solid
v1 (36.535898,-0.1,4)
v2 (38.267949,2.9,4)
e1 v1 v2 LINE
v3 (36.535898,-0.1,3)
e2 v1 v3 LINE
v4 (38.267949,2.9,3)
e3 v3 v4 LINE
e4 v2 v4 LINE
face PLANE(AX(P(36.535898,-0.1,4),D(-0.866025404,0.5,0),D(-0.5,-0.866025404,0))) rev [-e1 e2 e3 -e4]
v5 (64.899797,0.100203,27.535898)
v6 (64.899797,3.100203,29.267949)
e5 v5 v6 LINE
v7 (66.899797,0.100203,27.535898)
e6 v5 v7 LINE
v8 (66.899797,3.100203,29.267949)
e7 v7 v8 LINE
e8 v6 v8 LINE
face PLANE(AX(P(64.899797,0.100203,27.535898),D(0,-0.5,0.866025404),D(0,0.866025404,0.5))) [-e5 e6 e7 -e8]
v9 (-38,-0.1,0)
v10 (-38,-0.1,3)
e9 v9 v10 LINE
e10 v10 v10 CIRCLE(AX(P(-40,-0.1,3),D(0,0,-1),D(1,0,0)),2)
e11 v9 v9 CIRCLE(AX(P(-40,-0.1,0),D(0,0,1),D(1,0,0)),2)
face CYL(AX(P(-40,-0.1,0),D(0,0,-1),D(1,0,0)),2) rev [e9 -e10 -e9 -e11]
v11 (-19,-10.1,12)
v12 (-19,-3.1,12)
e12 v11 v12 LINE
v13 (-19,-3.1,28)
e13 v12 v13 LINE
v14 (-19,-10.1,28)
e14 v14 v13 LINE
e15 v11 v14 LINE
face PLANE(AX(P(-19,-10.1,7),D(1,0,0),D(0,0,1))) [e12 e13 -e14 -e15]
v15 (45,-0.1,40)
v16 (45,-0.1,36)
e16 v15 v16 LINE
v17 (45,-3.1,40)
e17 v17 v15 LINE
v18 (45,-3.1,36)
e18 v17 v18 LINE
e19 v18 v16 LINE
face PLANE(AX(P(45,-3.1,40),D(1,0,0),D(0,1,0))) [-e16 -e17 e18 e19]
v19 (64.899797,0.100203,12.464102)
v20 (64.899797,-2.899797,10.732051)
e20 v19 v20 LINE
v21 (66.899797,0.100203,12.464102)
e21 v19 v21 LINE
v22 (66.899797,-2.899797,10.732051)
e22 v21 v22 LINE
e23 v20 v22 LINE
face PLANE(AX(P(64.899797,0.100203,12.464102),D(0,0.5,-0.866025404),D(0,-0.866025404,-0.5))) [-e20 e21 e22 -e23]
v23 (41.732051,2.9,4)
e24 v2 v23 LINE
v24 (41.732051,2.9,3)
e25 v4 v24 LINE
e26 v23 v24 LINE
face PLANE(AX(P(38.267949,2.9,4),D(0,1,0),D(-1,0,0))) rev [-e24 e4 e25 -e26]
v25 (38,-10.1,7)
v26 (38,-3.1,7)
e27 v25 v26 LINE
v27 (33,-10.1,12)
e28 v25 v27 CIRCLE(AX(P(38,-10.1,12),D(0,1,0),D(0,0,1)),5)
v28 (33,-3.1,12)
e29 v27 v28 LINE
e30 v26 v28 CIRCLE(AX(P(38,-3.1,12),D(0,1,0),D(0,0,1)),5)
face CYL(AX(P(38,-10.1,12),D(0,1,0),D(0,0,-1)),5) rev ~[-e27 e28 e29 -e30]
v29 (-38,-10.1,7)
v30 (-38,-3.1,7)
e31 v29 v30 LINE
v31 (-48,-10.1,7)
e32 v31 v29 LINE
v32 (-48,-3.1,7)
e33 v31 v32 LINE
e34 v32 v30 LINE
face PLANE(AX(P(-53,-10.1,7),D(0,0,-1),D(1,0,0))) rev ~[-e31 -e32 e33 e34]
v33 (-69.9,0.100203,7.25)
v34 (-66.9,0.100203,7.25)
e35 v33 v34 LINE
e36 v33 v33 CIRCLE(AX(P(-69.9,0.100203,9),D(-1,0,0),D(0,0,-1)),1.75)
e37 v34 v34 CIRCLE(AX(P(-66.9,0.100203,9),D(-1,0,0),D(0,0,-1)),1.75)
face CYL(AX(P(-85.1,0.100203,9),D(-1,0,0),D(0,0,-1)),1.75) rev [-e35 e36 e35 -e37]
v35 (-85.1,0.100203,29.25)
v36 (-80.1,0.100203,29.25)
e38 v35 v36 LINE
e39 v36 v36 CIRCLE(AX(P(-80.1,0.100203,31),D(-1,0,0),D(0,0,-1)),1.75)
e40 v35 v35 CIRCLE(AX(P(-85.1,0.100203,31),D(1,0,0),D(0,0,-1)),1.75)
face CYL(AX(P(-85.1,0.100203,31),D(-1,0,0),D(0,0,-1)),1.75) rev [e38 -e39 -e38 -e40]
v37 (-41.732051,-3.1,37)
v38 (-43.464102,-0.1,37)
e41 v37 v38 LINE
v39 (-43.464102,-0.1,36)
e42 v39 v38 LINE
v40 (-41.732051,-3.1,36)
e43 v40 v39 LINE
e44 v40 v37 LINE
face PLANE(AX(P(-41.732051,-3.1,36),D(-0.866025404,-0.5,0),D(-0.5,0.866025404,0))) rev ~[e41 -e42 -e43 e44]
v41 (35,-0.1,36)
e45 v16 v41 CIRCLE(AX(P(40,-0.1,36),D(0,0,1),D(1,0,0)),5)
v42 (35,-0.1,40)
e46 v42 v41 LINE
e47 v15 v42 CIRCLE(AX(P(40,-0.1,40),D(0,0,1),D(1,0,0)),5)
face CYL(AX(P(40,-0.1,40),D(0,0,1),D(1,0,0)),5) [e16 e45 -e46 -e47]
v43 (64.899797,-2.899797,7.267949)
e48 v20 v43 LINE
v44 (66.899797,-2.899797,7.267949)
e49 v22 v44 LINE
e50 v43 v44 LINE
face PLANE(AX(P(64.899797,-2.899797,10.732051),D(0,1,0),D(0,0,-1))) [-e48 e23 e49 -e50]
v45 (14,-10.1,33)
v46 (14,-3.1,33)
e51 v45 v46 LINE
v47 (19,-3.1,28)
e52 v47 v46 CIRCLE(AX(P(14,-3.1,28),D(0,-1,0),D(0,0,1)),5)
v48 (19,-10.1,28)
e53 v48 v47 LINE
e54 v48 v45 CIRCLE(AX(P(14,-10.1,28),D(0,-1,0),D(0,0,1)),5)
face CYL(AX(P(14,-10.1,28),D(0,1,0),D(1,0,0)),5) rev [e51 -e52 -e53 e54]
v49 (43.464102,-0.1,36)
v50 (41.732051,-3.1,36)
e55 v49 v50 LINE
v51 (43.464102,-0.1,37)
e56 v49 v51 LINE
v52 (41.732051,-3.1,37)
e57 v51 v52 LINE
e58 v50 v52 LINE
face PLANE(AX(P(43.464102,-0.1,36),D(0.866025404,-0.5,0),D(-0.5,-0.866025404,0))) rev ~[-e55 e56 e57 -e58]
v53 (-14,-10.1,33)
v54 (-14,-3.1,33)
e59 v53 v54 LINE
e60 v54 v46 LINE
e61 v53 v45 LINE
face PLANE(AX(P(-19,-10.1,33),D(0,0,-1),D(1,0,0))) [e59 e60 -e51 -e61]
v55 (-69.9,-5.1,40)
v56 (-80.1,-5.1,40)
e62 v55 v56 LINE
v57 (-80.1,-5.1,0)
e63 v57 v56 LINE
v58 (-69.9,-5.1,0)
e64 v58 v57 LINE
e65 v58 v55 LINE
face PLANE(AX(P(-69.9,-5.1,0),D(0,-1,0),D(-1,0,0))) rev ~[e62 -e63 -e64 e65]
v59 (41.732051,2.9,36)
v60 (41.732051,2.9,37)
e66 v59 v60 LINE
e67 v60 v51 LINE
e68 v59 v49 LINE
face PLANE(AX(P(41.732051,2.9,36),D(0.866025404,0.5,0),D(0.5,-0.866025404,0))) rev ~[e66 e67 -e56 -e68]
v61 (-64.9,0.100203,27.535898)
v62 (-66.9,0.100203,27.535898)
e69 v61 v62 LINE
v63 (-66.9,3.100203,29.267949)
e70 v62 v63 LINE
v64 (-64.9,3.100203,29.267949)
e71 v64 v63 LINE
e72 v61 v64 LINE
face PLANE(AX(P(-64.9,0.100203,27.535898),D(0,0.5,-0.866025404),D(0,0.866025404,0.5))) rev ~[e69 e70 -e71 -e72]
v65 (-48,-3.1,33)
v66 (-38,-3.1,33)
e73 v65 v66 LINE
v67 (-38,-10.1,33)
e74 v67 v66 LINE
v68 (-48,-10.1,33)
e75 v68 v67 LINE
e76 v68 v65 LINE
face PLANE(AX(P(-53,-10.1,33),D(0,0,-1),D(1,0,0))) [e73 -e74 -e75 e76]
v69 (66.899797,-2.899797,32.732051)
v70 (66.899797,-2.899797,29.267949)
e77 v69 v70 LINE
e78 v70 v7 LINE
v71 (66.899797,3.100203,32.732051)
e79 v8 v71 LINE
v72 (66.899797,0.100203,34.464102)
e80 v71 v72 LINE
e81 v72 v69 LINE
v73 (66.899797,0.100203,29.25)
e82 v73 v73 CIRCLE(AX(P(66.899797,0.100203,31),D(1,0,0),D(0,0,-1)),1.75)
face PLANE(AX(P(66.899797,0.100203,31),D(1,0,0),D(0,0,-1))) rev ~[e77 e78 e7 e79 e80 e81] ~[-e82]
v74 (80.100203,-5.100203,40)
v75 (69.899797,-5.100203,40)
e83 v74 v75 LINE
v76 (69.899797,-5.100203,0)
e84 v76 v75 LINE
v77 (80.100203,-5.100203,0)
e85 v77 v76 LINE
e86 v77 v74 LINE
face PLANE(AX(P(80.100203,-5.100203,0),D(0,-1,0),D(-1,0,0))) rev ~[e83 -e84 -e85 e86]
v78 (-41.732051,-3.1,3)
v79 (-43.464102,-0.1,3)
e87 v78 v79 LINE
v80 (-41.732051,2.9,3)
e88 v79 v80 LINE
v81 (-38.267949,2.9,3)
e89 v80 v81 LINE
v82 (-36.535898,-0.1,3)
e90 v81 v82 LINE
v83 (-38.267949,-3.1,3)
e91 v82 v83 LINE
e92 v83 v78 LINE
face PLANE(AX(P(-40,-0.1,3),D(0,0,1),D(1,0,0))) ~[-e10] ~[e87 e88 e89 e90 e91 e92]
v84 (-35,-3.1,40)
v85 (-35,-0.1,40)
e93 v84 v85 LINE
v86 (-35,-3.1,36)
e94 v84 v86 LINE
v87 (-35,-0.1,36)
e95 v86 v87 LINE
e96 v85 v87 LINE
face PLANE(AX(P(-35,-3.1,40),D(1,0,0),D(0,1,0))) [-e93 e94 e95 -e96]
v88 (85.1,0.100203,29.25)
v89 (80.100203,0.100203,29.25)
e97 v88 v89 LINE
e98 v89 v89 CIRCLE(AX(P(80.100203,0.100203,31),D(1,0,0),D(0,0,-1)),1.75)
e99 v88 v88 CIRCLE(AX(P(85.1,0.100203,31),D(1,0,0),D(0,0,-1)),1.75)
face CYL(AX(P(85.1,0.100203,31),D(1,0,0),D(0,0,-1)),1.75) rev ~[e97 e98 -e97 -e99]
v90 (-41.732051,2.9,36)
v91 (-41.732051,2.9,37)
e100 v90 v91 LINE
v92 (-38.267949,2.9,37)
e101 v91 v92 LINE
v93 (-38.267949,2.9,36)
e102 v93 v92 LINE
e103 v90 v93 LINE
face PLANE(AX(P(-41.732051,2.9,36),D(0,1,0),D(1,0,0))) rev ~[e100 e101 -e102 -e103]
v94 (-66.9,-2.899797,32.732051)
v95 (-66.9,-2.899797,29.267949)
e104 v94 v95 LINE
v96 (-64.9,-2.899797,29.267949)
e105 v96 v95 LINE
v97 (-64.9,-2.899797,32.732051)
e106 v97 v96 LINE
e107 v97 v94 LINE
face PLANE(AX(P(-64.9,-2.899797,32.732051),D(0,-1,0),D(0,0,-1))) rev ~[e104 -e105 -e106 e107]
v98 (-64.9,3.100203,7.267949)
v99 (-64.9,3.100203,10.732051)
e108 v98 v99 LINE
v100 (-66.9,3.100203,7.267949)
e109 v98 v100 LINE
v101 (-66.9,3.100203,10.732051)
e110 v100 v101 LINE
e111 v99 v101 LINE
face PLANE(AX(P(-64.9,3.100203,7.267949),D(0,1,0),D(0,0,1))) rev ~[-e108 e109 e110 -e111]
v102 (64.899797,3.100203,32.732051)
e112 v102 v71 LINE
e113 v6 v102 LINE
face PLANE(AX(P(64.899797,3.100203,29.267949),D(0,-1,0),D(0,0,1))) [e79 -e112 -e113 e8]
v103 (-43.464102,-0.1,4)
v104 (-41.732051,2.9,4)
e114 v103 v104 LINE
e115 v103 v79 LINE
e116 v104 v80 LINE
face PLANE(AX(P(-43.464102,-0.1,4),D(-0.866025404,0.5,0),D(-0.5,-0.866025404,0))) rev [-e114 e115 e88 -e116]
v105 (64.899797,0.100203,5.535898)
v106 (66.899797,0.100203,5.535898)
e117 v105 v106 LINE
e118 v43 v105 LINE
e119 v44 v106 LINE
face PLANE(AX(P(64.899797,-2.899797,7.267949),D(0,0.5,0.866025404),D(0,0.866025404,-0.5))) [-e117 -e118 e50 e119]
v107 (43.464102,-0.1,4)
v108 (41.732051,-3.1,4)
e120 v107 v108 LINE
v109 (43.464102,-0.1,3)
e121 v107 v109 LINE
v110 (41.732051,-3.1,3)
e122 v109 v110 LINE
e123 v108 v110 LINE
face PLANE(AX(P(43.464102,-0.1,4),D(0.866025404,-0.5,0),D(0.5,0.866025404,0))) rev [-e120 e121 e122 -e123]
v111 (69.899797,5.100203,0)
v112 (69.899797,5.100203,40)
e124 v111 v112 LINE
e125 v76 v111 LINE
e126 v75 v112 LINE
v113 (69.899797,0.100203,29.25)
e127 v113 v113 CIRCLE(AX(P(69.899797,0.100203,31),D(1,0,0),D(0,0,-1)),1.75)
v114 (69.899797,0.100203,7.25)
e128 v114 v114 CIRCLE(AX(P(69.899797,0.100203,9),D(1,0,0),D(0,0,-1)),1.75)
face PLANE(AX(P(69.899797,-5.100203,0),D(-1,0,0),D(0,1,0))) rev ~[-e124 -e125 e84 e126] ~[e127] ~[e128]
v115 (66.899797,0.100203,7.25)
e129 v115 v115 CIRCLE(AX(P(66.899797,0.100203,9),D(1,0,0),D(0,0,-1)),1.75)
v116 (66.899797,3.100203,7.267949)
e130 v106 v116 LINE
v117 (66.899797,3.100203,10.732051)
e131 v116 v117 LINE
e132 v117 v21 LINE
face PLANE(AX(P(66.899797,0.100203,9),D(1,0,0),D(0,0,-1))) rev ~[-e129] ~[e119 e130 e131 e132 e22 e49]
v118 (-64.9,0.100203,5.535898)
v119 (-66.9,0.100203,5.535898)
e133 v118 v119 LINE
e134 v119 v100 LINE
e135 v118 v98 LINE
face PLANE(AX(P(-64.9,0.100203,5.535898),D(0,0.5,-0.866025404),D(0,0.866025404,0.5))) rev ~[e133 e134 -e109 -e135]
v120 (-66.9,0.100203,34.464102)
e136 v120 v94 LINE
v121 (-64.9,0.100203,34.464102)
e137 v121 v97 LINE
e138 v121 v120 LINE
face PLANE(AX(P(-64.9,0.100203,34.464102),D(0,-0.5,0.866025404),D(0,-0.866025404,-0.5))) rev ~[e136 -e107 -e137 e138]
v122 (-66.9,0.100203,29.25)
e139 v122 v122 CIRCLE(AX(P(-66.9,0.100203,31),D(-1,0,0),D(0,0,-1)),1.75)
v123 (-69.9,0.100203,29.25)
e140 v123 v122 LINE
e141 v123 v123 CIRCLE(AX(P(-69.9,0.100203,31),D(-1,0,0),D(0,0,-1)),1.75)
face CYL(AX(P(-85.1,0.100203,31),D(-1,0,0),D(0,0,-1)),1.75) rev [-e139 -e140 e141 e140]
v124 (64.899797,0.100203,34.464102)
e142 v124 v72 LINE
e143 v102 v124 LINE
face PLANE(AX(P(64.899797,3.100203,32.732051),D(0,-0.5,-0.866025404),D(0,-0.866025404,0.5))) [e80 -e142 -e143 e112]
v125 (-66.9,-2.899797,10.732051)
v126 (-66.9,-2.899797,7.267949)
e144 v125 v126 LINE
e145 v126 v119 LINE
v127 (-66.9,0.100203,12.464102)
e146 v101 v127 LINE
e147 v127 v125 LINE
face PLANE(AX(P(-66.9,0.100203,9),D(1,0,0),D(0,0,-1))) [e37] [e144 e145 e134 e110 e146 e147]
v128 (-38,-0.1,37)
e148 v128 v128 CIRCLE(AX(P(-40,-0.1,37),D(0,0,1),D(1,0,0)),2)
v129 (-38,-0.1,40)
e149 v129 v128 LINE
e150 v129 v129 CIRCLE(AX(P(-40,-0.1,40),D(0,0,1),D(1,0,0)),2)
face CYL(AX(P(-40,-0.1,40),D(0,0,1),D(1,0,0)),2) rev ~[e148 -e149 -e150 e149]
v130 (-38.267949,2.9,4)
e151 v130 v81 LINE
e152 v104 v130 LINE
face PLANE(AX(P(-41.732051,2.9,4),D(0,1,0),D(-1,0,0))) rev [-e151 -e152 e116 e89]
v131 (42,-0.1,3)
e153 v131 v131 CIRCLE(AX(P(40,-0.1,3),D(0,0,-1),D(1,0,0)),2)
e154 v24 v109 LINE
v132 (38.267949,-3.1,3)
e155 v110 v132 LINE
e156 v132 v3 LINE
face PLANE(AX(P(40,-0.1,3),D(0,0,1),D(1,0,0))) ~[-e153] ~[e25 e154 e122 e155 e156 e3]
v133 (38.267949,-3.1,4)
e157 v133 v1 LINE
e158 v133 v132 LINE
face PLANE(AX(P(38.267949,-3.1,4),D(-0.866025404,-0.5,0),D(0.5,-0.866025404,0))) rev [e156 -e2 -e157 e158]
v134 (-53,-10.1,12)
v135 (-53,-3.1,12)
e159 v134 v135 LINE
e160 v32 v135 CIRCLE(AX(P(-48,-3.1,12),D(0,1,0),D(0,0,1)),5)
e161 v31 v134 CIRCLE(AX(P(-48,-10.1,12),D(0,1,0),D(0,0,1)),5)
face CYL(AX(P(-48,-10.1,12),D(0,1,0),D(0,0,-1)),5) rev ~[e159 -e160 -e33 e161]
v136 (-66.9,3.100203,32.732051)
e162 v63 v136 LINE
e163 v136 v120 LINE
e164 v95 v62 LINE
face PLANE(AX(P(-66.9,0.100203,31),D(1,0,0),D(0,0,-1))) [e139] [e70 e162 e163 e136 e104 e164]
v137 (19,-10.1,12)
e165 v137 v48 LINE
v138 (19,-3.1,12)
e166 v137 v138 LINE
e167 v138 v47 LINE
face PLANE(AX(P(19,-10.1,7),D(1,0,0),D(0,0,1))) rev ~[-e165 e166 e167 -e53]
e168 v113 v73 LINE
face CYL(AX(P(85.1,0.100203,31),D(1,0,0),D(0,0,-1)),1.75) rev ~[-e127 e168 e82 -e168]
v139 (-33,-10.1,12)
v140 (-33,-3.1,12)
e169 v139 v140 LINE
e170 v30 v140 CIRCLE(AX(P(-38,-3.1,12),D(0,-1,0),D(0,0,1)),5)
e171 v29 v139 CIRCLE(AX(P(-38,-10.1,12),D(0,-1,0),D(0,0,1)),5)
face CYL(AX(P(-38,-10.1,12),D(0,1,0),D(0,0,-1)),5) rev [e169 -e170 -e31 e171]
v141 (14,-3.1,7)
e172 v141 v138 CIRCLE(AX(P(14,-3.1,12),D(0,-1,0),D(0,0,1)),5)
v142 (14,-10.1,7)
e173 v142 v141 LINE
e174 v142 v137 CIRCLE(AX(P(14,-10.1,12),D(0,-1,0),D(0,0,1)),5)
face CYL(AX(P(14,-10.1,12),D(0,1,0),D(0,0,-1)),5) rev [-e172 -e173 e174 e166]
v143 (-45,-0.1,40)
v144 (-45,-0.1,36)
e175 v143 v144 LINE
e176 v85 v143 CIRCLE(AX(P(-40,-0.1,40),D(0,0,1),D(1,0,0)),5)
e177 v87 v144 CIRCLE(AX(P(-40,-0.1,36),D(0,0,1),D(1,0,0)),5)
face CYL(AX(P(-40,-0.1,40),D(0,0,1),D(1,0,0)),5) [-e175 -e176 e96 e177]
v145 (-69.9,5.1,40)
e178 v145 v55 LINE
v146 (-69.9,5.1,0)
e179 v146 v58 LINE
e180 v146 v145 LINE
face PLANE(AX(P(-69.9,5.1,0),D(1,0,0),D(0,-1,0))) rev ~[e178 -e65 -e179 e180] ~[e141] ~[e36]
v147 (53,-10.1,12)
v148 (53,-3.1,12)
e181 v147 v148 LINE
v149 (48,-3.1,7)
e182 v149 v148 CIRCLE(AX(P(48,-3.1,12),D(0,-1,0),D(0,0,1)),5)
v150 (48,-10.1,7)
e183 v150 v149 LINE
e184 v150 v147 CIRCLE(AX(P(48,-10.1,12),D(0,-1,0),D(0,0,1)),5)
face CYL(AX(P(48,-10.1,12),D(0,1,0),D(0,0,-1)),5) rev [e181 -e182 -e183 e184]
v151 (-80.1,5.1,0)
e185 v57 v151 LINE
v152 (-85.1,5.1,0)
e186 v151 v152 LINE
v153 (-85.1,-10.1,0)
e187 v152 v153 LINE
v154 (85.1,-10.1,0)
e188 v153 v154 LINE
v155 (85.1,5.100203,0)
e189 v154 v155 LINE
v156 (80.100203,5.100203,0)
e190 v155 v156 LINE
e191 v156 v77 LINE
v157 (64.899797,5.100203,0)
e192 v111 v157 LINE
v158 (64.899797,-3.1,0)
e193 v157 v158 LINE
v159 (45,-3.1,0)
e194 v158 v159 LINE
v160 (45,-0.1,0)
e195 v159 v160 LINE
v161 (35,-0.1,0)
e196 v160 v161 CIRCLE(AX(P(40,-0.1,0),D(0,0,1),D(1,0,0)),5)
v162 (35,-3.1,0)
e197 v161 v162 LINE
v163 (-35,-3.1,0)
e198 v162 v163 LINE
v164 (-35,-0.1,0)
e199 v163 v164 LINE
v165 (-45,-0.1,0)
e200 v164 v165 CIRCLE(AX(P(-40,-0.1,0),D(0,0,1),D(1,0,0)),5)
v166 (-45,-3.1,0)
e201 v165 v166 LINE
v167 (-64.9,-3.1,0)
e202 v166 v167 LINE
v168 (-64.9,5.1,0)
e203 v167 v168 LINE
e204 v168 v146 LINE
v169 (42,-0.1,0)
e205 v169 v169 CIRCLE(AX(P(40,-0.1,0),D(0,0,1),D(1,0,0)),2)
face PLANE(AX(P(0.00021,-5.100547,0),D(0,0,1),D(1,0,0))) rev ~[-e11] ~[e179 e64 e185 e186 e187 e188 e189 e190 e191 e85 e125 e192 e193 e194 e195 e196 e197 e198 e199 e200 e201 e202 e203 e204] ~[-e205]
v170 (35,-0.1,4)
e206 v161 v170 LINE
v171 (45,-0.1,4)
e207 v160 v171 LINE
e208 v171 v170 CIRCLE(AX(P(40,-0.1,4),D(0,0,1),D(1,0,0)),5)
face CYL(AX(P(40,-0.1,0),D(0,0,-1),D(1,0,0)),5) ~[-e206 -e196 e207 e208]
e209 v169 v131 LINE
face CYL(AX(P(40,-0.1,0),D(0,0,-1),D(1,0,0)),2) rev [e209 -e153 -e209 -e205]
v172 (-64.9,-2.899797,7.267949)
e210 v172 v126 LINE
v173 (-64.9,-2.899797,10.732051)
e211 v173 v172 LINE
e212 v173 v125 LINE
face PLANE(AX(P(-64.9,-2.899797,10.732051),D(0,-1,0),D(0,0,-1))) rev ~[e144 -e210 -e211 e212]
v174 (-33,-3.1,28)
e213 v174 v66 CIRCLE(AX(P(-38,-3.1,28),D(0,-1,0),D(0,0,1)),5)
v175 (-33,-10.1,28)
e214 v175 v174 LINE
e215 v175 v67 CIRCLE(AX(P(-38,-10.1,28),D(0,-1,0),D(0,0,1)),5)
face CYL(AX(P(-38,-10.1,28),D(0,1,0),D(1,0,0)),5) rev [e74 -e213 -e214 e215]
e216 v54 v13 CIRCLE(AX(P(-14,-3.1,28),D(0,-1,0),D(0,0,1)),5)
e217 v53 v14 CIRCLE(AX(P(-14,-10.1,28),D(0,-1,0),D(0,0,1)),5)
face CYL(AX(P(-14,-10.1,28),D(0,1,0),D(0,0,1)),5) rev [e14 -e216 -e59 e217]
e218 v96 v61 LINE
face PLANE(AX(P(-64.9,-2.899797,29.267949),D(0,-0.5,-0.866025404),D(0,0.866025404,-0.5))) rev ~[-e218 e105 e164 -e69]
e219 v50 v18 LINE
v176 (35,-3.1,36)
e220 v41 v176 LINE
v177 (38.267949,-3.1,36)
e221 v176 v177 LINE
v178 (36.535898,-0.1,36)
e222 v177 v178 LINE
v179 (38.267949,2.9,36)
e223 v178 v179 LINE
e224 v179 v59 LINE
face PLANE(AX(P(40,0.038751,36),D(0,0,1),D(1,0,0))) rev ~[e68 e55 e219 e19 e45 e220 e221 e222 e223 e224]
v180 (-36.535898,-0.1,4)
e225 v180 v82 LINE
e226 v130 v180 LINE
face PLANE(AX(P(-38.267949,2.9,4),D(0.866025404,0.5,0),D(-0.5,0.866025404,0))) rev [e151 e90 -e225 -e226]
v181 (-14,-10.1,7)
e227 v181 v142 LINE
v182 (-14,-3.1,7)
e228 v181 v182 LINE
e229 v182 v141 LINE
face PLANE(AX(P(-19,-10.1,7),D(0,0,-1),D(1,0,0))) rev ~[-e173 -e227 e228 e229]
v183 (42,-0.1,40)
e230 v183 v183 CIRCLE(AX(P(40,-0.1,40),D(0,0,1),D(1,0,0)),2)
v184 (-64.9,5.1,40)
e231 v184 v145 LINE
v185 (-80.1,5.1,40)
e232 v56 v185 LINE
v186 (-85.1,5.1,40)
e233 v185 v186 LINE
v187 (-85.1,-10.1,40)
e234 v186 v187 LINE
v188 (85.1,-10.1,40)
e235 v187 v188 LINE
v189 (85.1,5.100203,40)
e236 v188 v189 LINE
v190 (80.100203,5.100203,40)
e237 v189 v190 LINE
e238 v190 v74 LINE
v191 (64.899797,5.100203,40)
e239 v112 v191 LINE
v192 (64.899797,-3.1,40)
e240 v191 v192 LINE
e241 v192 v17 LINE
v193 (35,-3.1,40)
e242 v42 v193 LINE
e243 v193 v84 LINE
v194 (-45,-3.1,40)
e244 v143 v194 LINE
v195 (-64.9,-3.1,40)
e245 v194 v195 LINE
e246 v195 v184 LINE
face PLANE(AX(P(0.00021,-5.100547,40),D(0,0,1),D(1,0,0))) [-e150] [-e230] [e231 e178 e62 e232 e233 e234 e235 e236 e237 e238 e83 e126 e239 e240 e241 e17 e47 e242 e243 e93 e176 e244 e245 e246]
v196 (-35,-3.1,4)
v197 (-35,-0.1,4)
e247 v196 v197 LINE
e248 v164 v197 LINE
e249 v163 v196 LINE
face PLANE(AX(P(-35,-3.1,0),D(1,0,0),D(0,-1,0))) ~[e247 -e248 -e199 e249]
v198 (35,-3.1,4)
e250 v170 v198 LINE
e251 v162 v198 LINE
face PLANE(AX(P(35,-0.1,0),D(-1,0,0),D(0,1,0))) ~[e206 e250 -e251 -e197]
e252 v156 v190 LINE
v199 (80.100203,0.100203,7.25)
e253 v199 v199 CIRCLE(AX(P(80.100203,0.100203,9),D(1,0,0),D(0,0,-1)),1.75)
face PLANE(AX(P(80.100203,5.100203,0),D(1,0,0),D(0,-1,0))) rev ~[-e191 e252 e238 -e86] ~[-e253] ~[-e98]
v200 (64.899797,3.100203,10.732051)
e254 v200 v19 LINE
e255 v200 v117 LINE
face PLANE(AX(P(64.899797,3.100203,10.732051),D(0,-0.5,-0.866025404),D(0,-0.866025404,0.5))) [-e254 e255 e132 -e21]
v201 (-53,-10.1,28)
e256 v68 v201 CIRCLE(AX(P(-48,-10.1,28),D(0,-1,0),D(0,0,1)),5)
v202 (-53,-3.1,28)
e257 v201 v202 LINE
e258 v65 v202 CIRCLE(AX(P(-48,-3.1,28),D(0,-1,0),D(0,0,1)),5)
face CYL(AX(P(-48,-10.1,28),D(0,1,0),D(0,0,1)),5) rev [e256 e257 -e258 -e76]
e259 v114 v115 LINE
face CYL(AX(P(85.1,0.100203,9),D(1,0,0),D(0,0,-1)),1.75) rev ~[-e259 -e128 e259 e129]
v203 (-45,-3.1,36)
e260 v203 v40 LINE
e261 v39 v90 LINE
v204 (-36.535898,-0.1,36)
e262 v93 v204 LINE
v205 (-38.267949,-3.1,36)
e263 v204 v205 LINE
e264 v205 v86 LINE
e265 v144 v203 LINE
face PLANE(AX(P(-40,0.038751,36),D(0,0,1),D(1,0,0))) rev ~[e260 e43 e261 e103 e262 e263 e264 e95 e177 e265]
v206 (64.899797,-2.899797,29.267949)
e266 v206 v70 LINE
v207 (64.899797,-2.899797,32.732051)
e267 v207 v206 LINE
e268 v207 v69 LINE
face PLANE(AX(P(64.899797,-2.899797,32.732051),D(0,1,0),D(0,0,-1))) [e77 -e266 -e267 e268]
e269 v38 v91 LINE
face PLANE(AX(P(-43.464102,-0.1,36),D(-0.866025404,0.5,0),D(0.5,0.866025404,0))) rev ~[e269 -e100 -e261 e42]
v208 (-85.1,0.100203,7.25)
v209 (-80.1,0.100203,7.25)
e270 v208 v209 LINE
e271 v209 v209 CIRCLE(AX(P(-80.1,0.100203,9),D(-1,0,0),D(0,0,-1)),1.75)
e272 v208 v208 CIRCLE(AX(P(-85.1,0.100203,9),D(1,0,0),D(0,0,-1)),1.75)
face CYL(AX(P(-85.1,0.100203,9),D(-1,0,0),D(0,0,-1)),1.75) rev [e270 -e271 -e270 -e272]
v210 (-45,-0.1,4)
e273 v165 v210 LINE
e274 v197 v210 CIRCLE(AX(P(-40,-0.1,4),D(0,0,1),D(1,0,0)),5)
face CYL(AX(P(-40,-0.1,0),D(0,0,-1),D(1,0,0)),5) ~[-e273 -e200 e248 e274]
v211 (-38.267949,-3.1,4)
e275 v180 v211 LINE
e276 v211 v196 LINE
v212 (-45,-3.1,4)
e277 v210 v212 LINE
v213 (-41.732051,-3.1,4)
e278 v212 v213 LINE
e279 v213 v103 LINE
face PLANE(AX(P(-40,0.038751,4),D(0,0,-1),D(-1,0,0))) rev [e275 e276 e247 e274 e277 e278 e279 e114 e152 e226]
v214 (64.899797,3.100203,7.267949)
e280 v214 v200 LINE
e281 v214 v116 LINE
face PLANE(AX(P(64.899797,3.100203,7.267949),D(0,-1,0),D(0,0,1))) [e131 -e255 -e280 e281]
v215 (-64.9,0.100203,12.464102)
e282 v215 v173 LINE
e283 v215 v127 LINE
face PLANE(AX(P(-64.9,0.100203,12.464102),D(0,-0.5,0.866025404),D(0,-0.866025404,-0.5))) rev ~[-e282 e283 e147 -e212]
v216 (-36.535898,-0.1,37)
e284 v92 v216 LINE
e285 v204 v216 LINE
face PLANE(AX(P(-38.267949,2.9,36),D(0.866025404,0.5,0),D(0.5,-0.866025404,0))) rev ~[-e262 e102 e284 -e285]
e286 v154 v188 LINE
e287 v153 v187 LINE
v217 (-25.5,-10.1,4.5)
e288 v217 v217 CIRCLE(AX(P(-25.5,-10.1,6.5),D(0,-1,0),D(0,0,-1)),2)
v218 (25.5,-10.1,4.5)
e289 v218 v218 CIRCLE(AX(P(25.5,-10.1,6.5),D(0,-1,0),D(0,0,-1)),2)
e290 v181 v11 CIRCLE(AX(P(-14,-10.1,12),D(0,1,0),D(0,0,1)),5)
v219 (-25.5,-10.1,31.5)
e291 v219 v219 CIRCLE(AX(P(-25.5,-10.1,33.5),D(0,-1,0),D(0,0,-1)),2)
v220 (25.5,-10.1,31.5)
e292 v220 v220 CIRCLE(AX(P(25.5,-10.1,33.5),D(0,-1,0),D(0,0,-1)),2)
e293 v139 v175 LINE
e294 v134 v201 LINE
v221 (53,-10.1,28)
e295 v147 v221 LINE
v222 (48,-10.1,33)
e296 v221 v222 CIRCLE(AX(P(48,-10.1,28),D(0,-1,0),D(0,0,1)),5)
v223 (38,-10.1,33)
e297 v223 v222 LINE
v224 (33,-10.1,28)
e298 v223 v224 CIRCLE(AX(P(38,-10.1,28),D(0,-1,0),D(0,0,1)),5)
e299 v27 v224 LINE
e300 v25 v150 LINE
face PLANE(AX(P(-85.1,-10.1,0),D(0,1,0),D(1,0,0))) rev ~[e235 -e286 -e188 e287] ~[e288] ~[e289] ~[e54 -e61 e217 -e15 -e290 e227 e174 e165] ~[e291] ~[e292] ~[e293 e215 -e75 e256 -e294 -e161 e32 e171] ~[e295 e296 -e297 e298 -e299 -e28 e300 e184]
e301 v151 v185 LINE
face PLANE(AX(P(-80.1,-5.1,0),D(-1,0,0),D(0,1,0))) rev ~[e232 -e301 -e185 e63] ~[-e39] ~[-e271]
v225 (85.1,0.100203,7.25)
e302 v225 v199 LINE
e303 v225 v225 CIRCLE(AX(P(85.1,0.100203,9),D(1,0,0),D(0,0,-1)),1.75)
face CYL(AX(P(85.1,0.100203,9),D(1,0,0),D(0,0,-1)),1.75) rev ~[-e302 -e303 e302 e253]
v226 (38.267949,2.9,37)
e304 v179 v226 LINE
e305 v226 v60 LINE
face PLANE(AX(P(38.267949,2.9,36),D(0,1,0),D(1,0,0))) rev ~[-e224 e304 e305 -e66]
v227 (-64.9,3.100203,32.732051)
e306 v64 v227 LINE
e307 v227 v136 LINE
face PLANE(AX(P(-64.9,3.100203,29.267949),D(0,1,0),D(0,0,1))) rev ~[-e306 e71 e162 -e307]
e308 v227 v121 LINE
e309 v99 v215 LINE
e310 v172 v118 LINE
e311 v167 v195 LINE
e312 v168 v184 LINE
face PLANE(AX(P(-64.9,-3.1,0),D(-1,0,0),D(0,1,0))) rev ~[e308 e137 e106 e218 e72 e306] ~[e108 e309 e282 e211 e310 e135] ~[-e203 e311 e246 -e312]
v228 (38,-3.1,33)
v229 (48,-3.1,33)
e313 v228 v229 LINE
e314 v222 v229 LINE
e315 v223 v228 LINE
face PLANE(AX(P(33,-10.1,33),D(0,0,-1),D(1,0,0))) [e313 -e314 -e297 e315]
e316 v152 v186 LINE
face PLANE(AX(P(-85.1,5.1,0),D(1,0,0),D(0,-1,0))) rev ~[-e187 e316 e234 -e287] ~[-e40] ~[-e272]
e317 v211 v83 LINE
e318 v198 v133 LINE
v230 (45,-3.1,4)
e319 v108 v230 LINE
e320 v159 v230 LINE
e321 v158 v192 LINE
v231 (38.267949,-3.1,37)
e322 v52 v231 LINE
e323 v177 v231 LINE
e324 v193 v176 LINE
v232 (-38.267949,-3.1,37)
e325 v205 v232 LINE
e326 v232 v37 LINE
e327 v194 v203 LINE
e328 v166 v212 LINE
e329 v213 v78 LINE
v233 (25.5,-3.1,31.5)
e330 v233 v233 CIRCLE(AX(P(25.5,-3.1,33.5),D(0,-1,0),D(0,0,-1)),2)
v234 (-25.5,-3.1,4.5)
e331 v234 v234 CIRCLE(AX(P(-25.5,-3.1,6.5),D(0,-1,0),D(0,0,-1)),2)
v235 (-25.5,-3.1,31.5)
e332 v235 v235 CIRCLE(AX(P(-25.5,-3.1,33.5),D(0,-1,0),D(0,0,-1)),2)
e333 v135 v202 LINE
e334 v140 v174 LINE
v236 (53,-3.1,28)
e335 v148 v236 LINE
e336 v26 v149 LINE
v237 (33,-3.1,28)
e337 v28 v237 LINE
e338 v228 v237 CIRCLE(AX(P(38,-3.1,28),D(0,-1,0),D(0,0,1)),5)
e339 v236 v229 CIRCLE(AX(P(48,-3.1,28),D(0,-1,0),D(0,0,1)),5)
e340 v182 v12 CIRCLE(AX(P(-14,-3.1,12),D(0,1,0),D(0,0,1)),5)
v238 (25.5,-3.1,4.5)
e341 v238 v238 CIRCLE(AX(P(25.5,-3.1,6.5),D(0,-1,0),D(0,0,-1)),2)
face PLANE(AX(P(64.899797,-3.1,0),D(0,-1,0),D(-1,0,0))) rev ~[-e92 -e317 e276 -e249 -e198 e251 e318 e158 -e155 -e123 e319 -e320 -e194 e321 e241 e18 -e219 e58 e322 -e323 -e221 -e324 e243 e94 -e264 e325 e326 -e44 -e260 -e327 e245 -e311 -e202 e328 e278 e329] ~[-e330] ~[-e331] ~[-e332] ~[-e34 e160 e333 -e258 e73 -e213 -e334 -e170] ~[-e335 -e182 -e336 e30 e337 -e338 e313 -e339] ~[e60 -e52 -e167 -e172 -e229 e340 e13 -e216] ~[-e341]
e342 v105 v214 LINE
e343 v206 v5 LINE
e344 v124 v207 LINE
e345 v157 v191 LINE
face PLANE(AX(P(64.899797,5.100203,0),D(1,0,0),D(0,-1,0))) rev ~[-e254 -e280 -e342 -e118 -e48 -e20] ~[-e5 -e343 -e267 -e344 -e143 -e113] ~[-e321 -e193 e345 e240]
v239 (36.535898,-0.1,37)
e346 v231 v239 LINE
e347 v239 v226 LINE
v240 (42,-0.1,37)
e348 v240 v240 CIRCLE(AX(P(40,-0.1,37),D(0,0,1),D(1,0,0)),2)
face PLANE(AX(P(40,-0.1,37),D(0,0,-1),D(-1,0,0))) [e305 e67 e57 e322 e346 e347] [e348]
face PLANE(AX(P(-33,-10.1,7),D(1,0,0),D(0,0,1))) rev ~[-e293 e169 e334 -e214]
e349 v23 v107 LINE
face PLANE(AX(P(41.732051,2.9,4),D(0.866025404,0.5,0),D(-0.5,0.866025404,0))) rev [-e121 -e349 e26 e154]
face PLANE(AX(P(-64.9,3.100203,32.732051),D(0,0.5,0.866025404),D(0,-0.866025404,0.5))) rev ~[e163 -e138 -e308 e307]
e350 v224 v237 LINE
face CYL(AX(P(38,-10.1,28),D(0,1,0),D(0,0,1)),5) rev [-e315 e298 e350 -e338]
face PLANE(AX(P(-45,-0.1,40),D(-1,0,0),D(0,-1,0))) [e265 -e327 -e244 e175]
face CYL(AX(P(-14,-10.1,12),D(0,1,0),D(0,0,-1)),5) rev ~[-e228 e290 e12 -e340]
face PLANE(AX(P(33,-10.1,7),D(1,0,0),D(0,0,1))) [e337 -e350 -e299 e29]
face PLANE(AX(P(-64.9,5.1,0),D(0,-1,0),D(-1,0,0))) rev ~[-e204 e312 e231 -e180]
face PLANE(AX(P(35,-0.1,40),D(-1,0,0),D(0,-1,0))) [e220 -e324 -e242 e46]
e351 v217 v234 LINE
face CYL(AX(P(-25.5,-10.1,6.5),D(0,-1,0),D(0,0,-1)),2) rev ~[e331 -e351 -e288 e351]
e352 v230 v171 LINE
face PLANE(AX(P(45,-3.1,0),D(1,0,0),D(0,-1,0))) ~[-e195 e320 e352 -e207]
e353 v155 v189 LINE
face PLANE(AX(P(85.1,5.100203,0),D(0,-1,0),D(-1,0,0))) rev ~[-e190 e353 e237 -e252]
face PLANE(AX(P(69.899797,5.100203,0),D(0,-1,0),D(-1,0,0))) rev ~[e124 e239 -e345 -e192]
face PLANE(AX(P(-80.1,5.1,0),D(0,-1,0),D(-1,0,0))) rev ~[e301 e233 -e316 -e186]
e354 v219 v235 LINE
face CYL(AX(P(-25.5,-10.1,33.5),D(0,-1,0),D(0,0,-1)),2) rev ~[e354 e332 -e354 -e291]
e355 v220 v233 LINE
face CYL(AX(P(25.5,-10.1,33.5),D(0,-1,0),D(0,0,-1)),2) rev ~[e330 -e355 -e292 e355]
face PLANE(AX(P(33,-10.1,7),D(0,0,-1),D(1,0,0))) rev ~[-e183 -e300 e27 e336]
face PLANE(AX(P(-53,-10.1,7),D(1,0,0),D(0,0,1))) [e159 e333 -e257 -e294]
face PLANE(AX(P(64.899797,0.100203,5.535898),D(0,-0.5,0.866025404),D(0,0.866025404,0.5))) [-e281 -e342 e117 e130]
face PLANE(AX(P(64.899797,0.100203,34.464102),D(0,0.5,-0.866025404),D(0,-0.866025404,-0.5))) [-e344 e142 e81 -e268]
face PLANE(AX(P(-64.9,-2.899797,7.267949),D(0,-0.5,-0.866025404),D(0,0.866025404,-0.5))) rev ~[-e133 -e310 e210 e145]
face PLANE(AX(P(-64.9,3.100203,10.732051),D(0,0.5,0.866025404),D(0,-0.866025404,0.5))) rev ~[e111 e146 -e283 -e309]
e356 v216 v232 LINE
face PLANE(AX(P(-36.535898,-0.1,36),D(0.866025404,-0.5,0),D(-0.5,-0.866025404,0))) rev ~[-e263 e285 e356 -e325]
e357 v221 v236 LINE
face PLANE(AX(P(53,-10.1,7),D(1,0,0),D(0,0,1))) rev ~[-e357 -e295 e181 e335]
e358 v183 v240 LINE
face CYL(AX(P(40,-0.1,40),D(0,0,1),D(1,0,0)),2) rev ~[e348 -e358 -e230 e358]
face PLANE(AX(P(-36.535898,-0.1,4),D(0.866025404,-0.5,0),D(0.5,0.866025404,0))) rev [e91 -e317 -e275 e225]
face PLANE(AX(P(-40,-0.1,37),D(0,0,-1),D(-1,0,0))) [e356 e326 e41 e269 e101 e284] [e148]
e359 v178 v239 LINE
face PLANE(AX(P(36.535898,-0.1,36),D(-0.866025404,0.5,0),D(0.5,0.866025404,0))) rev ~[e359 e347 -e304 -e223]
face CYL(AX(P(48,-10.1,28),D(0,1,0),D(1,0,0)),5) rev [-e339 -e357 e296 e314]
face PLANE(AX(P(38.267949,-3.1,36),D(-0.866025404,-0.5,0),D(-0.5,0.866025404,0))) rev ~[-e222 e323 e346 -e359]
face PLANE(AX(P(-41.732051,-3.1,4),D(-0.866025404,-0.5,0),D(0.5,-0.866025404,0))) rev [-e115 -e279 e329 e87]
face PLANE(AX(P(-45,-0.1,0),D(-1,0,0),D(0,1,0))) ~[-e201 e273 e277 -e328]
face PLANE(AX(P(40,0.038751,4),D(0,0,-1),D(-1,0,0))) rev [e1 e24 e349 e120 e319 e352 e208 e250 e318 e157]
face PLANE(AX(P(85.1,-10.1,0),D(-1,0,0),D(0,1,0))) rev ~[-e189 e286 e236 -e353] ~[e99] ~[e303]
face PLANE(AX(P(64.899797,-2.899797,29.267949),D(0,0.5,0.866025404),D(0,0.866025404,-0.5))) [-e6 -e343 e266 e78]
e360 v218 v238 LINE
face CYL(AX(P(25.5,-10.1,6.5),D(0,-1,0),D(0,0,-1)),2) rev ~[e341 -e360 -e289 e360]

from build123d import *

# Parameters (mm, degrees)
DODANIE_WYCI_GNI_CIE1_DEPTH = 40
SZKIC2_R                    = 2
WYTNIJ_WYCI_GNI_CIE1_DEPTH  = 35
SZKIC3_W                    = 38
SZKIC3_H                    = 26
SZKIC3_W_2                  = 20
WYTNIJ_WYCI_GNI_CIE2_DEPTH  = 35
ZAOKR_GLENIE1_R             = 5
SZKIC4_R                    = 1.75
WYTNIJ_WYCI_GNI_CIE3_DEPTH  = 35
WYTNIJ_WYCI_GNI_CIE4_START  = -20.200203
WYTNIJ_WYCI_GNI_CIE4_DEPTH  = 2
WYTNIJ_WYCI_GNI_CIE5_START  = -150
WYTNIJ_WYCI_GNI_CIE5_DEPTH  = 2
SZKIC7_R                    = 2
DODANIE_WYCI_GNI_CIE4_DEPTH = 4
WYTNIJ_WYCI_GNI_CIE6_DEPTH  = 1


with BuildPart() as part:
    # Szkic1 → Dodanie-wyciągnięcie1 (new body)
    with BuildSketch(Plane.XY):
        Polygon((-64.9, -3.1), (-64.9, 5.1), (-69.9, 5.1), (-69.9, -5.1), (-80.1, -5.1), (-80.1, 5.1), (-85.1, 5.1), (-85.1, -10.1), (85.1, -10.1), (85.1, 5.100203132), (80.100203132, 5.100203132), (80.100203132, -5.100203132), (69.899796868, -5.100203132), (69.899796868, 5.100203132), (64.899796868, 5.100203132), (64.899796868, -3.1), align=None)
    extrude(amount=DODANIE_WYCI_GNI_CIE1_DEPTH)

    # Szkic2 → Wytnij-wyciągnięcie1 (cut)
    with BuildSketch(Plane.XZ.offset(10.1)):
        with Locations(Location((-25.5, 33.5, 0), (0, 0, 270))):
            Circle(SZKIC2_R)
        with Locations(Location((-25.5, 6.5, 0), (0, 0, 270))):
            Circle(SZKIC2_R)
        with Locations(Location((25.5, 6.5, 0), (0, 0, 270))):
            Circle(SZKIC2_R)
        with Locations(Location((25.5, 33.5, 0), (0, 0, 270))):
            Circle(SZKIC2_R)
    extrude(amount=-WYTNIJ_WYCI_GNI_CIE1_DEPTH, mode=Mode.SUBTRACT)

    # Szkic3 → Wytnij-wyciągnięcie2 (cut)
    with BuildSketch(Plane.XZ.offset(10.1)):
        with Locations((0, 20)):
            Rectangle(SZKIC3_W, SZKIC3_H)
        with Locations((-43, 20)):
            Rectangle(SZKIC3_W_2, SZKIC3_H)
        with Locations((43, 20)):
            Rectangle(SZKIC3_W_2, SZKIC3_H)
    extrude(amount=-WYTNIJ_WYCI_GNI_CIE2_DEPTH, mode=Mode.SUBTRACT)

    # Zaokrąglenie1
    zaokr_glenie1_edges = [part.edges().sort_by_distance(p)[0] for p in [
        (19, -6.6, 33),
        (19, -6.6, 7),
        (-19, -6.6, 7),
        (-19, -6.6, 33),
        (53, -6.6, 33),
        (53, -6.6, 7),
        (33, -6.6, 7),
        (33, -6.6, 33),
        (-33, -6.6, 33),
        (-33, -6.6, 7),
        (-53, -6.6, 7),
        (-53, -6.6, 33),
    ]]
    fillet(zaokr_glenie1_edges, radius=ZAOKR_GLENIE1_R)

    # Szkic4 → Wytnij-wyciągnięcie3 (cut)
    with BuildSketch(Plane(origin=(85.1, 0, 0), x_dir=(0, 0, -1), z_dir=(1, 0, 0))):
        with Locations((-31, 0.100203132)):
            Circle(SZKIC4_R)
        with Locations((-9, 0.100203132)):
            Circle(SZKIC4_R)
    wytnij_wyci_gni_cie3 = extrude(amount=-WYTNIJ_WYCI_GNI_CIE3_DEPTH, mode=Mode.SUBTRACT)

    # Szkic5 → Wytnij-wyciągnięcie4 (cut)
    with BuildSketch(Plane(origin=(85.1, 0, 0), x_dir=(0, 0, -1), z_dir=(1, 0, 0)).offset(WYTNIJ_WYCI_GNI_CIE4_START)):
        Polygon((-29.267949192, 3.100203132), (-32.732050808, 3.100203132), (-34.464101615, 0.100203132), (-32.732050808, -2.899796868), (-29.267949192, -2.899796868), (-27.535898385, 0.100203132), align=None)
        Polygon((-7.267949192, 3.100203132), (-10.732050808, 3.100203132), (-12.464101615, 0.100203132), (-10.732050808, -2.899796868), (-7.267949192, -2.899796868), (-5.535898385, 0.100203132), align=None)
    extrude(amount=WYTNIJ_WYCI_GNI_CIE4_DEPTH, mode=Mode.SUBTRACT)

    # Lustro1: Wytnij-wyciągnięcie3 across plane
    add(wytnij_wyci_gni_cie3.mirror(Plane(origin=(0, 0, 0), x_dir=(0, 0, 1), z_dir=(1, 0, 0))), mode=Mode.SUBTRACT)

    # Szkic5<2> → Wytnij-wyciągnięcie5 (cut)
    with BuildSketch(Plane(origin=(85.1, 0, 0), x_dir=(0, 0, -1), z_dir=(1, 0, 0)).offset(WYTNIJ_WYCI_GNI_CIE5_START)):
        Polygon((-29.267949192, 3.100203132), (-32.732050808, 3.100203132), (-34.464101615, 0.100203132), (-32.732050808, -2.899796868), (-29.267949192, -2.899796868), (-27.535898385, 0.100203132), align=None)
        Polygon((-7.267949192, 3.100203132), (-10.732050808, 3.100203132), (-12.464101615, 0.100203132), (-10.732050808, -2.899796868), (-7.267949192, -2.899796868), (-5.535898385, 0.100203132), align=None)
    extrude(amount=-WYTNIJ_WYCI_GNI_CIE5_DEPTH, mode=Mode.SUBTRACT)

    # Szkic7 → Dodanie-wyciągnięcie4 (add)
    # profile 1 of 2: a face of its own
    with BuildSketch(Plane.XY.offset(40)):
        with BuildLine():
            Line((35, -0.1), (35, -3.1))
            Line((35, -3.1), (45, -3.1))
            Line((45, -3.1), (45, -0.1))
            ThreePointArc((45, -0.1), (40, 4.9), (35, -0.1))
        make_face()
        with Locations((40, -0.1)):
            Circle(SZKIC7_R, mode=Mode.SUBTRACT)
    # profile 2 of 2: a face of its own
    with BuildSketch(Plane.XY.offset(40)):
        with BuildLine():
            ThreePointArc((-35, -0.1), (-40, 4.9), (-45, -0.1))
            Line((-45, -0.1), (-45, -3.1))
            Line((-45, -3.1), (-35, -3.1))
            Line((-35, -3.1), (-35, -0.1))
        make_face()
        with Locations((-40, -0.1)):
            Circle(SZKIC7_R, mode=Mode.SUBTRACT)
    dodanie_wyci_gni_cie4 = extrude(amount=-DODANIE_WYCI_GNI_CIE4_DEPTH)

    # Szkic8 → Wytnij-wyciągnięcie6 (cut)
    with BuildSketch(Plane(origin=(0, 0, 36), x_dir=(-1, 0, 0), z_dir=(0, 0, -1))):
        Polygon((-36.535898385, -0.1), (-38.267949192, 2.9), (-41.732050808, 2.9), (-43.464101615, -0.1), (-41.732050808, -3.1), (-38.267949192, -3.1), align=None)
        Polygon((43.464101615, -0.1), (41.732050808, 2.9), (38.267949192, 2.9), (36.535898385, -0.1), (38.267949192, -3.1), (41.732050808, -3.1), align=None)
    wytnij_wyci_gni_cie6 = extrude(amount=-WYTNIJ_WYCI_GNI_CIE6_DEPTH, mode=Mode.SUBTRACT)

    # Lustro3: Dodanie-wyciągnięcie4, Wytnij-wyciągnięcie6 across plane
    add(dodanie_wyci_gni_cie4.mirror(Plane(origin=(0, 0, 20), x_dir=(1, 0, 0), z_dir=(0, 0, -1))))
    add(wytnij_wyci_gni_cie6.mirror(Plane(origin=(0, 0, 20), x_dir=(1, 0, 0), z_dir=(0, 0, -1))), mode=Mode.SUBTRACT)


solid = part.part
